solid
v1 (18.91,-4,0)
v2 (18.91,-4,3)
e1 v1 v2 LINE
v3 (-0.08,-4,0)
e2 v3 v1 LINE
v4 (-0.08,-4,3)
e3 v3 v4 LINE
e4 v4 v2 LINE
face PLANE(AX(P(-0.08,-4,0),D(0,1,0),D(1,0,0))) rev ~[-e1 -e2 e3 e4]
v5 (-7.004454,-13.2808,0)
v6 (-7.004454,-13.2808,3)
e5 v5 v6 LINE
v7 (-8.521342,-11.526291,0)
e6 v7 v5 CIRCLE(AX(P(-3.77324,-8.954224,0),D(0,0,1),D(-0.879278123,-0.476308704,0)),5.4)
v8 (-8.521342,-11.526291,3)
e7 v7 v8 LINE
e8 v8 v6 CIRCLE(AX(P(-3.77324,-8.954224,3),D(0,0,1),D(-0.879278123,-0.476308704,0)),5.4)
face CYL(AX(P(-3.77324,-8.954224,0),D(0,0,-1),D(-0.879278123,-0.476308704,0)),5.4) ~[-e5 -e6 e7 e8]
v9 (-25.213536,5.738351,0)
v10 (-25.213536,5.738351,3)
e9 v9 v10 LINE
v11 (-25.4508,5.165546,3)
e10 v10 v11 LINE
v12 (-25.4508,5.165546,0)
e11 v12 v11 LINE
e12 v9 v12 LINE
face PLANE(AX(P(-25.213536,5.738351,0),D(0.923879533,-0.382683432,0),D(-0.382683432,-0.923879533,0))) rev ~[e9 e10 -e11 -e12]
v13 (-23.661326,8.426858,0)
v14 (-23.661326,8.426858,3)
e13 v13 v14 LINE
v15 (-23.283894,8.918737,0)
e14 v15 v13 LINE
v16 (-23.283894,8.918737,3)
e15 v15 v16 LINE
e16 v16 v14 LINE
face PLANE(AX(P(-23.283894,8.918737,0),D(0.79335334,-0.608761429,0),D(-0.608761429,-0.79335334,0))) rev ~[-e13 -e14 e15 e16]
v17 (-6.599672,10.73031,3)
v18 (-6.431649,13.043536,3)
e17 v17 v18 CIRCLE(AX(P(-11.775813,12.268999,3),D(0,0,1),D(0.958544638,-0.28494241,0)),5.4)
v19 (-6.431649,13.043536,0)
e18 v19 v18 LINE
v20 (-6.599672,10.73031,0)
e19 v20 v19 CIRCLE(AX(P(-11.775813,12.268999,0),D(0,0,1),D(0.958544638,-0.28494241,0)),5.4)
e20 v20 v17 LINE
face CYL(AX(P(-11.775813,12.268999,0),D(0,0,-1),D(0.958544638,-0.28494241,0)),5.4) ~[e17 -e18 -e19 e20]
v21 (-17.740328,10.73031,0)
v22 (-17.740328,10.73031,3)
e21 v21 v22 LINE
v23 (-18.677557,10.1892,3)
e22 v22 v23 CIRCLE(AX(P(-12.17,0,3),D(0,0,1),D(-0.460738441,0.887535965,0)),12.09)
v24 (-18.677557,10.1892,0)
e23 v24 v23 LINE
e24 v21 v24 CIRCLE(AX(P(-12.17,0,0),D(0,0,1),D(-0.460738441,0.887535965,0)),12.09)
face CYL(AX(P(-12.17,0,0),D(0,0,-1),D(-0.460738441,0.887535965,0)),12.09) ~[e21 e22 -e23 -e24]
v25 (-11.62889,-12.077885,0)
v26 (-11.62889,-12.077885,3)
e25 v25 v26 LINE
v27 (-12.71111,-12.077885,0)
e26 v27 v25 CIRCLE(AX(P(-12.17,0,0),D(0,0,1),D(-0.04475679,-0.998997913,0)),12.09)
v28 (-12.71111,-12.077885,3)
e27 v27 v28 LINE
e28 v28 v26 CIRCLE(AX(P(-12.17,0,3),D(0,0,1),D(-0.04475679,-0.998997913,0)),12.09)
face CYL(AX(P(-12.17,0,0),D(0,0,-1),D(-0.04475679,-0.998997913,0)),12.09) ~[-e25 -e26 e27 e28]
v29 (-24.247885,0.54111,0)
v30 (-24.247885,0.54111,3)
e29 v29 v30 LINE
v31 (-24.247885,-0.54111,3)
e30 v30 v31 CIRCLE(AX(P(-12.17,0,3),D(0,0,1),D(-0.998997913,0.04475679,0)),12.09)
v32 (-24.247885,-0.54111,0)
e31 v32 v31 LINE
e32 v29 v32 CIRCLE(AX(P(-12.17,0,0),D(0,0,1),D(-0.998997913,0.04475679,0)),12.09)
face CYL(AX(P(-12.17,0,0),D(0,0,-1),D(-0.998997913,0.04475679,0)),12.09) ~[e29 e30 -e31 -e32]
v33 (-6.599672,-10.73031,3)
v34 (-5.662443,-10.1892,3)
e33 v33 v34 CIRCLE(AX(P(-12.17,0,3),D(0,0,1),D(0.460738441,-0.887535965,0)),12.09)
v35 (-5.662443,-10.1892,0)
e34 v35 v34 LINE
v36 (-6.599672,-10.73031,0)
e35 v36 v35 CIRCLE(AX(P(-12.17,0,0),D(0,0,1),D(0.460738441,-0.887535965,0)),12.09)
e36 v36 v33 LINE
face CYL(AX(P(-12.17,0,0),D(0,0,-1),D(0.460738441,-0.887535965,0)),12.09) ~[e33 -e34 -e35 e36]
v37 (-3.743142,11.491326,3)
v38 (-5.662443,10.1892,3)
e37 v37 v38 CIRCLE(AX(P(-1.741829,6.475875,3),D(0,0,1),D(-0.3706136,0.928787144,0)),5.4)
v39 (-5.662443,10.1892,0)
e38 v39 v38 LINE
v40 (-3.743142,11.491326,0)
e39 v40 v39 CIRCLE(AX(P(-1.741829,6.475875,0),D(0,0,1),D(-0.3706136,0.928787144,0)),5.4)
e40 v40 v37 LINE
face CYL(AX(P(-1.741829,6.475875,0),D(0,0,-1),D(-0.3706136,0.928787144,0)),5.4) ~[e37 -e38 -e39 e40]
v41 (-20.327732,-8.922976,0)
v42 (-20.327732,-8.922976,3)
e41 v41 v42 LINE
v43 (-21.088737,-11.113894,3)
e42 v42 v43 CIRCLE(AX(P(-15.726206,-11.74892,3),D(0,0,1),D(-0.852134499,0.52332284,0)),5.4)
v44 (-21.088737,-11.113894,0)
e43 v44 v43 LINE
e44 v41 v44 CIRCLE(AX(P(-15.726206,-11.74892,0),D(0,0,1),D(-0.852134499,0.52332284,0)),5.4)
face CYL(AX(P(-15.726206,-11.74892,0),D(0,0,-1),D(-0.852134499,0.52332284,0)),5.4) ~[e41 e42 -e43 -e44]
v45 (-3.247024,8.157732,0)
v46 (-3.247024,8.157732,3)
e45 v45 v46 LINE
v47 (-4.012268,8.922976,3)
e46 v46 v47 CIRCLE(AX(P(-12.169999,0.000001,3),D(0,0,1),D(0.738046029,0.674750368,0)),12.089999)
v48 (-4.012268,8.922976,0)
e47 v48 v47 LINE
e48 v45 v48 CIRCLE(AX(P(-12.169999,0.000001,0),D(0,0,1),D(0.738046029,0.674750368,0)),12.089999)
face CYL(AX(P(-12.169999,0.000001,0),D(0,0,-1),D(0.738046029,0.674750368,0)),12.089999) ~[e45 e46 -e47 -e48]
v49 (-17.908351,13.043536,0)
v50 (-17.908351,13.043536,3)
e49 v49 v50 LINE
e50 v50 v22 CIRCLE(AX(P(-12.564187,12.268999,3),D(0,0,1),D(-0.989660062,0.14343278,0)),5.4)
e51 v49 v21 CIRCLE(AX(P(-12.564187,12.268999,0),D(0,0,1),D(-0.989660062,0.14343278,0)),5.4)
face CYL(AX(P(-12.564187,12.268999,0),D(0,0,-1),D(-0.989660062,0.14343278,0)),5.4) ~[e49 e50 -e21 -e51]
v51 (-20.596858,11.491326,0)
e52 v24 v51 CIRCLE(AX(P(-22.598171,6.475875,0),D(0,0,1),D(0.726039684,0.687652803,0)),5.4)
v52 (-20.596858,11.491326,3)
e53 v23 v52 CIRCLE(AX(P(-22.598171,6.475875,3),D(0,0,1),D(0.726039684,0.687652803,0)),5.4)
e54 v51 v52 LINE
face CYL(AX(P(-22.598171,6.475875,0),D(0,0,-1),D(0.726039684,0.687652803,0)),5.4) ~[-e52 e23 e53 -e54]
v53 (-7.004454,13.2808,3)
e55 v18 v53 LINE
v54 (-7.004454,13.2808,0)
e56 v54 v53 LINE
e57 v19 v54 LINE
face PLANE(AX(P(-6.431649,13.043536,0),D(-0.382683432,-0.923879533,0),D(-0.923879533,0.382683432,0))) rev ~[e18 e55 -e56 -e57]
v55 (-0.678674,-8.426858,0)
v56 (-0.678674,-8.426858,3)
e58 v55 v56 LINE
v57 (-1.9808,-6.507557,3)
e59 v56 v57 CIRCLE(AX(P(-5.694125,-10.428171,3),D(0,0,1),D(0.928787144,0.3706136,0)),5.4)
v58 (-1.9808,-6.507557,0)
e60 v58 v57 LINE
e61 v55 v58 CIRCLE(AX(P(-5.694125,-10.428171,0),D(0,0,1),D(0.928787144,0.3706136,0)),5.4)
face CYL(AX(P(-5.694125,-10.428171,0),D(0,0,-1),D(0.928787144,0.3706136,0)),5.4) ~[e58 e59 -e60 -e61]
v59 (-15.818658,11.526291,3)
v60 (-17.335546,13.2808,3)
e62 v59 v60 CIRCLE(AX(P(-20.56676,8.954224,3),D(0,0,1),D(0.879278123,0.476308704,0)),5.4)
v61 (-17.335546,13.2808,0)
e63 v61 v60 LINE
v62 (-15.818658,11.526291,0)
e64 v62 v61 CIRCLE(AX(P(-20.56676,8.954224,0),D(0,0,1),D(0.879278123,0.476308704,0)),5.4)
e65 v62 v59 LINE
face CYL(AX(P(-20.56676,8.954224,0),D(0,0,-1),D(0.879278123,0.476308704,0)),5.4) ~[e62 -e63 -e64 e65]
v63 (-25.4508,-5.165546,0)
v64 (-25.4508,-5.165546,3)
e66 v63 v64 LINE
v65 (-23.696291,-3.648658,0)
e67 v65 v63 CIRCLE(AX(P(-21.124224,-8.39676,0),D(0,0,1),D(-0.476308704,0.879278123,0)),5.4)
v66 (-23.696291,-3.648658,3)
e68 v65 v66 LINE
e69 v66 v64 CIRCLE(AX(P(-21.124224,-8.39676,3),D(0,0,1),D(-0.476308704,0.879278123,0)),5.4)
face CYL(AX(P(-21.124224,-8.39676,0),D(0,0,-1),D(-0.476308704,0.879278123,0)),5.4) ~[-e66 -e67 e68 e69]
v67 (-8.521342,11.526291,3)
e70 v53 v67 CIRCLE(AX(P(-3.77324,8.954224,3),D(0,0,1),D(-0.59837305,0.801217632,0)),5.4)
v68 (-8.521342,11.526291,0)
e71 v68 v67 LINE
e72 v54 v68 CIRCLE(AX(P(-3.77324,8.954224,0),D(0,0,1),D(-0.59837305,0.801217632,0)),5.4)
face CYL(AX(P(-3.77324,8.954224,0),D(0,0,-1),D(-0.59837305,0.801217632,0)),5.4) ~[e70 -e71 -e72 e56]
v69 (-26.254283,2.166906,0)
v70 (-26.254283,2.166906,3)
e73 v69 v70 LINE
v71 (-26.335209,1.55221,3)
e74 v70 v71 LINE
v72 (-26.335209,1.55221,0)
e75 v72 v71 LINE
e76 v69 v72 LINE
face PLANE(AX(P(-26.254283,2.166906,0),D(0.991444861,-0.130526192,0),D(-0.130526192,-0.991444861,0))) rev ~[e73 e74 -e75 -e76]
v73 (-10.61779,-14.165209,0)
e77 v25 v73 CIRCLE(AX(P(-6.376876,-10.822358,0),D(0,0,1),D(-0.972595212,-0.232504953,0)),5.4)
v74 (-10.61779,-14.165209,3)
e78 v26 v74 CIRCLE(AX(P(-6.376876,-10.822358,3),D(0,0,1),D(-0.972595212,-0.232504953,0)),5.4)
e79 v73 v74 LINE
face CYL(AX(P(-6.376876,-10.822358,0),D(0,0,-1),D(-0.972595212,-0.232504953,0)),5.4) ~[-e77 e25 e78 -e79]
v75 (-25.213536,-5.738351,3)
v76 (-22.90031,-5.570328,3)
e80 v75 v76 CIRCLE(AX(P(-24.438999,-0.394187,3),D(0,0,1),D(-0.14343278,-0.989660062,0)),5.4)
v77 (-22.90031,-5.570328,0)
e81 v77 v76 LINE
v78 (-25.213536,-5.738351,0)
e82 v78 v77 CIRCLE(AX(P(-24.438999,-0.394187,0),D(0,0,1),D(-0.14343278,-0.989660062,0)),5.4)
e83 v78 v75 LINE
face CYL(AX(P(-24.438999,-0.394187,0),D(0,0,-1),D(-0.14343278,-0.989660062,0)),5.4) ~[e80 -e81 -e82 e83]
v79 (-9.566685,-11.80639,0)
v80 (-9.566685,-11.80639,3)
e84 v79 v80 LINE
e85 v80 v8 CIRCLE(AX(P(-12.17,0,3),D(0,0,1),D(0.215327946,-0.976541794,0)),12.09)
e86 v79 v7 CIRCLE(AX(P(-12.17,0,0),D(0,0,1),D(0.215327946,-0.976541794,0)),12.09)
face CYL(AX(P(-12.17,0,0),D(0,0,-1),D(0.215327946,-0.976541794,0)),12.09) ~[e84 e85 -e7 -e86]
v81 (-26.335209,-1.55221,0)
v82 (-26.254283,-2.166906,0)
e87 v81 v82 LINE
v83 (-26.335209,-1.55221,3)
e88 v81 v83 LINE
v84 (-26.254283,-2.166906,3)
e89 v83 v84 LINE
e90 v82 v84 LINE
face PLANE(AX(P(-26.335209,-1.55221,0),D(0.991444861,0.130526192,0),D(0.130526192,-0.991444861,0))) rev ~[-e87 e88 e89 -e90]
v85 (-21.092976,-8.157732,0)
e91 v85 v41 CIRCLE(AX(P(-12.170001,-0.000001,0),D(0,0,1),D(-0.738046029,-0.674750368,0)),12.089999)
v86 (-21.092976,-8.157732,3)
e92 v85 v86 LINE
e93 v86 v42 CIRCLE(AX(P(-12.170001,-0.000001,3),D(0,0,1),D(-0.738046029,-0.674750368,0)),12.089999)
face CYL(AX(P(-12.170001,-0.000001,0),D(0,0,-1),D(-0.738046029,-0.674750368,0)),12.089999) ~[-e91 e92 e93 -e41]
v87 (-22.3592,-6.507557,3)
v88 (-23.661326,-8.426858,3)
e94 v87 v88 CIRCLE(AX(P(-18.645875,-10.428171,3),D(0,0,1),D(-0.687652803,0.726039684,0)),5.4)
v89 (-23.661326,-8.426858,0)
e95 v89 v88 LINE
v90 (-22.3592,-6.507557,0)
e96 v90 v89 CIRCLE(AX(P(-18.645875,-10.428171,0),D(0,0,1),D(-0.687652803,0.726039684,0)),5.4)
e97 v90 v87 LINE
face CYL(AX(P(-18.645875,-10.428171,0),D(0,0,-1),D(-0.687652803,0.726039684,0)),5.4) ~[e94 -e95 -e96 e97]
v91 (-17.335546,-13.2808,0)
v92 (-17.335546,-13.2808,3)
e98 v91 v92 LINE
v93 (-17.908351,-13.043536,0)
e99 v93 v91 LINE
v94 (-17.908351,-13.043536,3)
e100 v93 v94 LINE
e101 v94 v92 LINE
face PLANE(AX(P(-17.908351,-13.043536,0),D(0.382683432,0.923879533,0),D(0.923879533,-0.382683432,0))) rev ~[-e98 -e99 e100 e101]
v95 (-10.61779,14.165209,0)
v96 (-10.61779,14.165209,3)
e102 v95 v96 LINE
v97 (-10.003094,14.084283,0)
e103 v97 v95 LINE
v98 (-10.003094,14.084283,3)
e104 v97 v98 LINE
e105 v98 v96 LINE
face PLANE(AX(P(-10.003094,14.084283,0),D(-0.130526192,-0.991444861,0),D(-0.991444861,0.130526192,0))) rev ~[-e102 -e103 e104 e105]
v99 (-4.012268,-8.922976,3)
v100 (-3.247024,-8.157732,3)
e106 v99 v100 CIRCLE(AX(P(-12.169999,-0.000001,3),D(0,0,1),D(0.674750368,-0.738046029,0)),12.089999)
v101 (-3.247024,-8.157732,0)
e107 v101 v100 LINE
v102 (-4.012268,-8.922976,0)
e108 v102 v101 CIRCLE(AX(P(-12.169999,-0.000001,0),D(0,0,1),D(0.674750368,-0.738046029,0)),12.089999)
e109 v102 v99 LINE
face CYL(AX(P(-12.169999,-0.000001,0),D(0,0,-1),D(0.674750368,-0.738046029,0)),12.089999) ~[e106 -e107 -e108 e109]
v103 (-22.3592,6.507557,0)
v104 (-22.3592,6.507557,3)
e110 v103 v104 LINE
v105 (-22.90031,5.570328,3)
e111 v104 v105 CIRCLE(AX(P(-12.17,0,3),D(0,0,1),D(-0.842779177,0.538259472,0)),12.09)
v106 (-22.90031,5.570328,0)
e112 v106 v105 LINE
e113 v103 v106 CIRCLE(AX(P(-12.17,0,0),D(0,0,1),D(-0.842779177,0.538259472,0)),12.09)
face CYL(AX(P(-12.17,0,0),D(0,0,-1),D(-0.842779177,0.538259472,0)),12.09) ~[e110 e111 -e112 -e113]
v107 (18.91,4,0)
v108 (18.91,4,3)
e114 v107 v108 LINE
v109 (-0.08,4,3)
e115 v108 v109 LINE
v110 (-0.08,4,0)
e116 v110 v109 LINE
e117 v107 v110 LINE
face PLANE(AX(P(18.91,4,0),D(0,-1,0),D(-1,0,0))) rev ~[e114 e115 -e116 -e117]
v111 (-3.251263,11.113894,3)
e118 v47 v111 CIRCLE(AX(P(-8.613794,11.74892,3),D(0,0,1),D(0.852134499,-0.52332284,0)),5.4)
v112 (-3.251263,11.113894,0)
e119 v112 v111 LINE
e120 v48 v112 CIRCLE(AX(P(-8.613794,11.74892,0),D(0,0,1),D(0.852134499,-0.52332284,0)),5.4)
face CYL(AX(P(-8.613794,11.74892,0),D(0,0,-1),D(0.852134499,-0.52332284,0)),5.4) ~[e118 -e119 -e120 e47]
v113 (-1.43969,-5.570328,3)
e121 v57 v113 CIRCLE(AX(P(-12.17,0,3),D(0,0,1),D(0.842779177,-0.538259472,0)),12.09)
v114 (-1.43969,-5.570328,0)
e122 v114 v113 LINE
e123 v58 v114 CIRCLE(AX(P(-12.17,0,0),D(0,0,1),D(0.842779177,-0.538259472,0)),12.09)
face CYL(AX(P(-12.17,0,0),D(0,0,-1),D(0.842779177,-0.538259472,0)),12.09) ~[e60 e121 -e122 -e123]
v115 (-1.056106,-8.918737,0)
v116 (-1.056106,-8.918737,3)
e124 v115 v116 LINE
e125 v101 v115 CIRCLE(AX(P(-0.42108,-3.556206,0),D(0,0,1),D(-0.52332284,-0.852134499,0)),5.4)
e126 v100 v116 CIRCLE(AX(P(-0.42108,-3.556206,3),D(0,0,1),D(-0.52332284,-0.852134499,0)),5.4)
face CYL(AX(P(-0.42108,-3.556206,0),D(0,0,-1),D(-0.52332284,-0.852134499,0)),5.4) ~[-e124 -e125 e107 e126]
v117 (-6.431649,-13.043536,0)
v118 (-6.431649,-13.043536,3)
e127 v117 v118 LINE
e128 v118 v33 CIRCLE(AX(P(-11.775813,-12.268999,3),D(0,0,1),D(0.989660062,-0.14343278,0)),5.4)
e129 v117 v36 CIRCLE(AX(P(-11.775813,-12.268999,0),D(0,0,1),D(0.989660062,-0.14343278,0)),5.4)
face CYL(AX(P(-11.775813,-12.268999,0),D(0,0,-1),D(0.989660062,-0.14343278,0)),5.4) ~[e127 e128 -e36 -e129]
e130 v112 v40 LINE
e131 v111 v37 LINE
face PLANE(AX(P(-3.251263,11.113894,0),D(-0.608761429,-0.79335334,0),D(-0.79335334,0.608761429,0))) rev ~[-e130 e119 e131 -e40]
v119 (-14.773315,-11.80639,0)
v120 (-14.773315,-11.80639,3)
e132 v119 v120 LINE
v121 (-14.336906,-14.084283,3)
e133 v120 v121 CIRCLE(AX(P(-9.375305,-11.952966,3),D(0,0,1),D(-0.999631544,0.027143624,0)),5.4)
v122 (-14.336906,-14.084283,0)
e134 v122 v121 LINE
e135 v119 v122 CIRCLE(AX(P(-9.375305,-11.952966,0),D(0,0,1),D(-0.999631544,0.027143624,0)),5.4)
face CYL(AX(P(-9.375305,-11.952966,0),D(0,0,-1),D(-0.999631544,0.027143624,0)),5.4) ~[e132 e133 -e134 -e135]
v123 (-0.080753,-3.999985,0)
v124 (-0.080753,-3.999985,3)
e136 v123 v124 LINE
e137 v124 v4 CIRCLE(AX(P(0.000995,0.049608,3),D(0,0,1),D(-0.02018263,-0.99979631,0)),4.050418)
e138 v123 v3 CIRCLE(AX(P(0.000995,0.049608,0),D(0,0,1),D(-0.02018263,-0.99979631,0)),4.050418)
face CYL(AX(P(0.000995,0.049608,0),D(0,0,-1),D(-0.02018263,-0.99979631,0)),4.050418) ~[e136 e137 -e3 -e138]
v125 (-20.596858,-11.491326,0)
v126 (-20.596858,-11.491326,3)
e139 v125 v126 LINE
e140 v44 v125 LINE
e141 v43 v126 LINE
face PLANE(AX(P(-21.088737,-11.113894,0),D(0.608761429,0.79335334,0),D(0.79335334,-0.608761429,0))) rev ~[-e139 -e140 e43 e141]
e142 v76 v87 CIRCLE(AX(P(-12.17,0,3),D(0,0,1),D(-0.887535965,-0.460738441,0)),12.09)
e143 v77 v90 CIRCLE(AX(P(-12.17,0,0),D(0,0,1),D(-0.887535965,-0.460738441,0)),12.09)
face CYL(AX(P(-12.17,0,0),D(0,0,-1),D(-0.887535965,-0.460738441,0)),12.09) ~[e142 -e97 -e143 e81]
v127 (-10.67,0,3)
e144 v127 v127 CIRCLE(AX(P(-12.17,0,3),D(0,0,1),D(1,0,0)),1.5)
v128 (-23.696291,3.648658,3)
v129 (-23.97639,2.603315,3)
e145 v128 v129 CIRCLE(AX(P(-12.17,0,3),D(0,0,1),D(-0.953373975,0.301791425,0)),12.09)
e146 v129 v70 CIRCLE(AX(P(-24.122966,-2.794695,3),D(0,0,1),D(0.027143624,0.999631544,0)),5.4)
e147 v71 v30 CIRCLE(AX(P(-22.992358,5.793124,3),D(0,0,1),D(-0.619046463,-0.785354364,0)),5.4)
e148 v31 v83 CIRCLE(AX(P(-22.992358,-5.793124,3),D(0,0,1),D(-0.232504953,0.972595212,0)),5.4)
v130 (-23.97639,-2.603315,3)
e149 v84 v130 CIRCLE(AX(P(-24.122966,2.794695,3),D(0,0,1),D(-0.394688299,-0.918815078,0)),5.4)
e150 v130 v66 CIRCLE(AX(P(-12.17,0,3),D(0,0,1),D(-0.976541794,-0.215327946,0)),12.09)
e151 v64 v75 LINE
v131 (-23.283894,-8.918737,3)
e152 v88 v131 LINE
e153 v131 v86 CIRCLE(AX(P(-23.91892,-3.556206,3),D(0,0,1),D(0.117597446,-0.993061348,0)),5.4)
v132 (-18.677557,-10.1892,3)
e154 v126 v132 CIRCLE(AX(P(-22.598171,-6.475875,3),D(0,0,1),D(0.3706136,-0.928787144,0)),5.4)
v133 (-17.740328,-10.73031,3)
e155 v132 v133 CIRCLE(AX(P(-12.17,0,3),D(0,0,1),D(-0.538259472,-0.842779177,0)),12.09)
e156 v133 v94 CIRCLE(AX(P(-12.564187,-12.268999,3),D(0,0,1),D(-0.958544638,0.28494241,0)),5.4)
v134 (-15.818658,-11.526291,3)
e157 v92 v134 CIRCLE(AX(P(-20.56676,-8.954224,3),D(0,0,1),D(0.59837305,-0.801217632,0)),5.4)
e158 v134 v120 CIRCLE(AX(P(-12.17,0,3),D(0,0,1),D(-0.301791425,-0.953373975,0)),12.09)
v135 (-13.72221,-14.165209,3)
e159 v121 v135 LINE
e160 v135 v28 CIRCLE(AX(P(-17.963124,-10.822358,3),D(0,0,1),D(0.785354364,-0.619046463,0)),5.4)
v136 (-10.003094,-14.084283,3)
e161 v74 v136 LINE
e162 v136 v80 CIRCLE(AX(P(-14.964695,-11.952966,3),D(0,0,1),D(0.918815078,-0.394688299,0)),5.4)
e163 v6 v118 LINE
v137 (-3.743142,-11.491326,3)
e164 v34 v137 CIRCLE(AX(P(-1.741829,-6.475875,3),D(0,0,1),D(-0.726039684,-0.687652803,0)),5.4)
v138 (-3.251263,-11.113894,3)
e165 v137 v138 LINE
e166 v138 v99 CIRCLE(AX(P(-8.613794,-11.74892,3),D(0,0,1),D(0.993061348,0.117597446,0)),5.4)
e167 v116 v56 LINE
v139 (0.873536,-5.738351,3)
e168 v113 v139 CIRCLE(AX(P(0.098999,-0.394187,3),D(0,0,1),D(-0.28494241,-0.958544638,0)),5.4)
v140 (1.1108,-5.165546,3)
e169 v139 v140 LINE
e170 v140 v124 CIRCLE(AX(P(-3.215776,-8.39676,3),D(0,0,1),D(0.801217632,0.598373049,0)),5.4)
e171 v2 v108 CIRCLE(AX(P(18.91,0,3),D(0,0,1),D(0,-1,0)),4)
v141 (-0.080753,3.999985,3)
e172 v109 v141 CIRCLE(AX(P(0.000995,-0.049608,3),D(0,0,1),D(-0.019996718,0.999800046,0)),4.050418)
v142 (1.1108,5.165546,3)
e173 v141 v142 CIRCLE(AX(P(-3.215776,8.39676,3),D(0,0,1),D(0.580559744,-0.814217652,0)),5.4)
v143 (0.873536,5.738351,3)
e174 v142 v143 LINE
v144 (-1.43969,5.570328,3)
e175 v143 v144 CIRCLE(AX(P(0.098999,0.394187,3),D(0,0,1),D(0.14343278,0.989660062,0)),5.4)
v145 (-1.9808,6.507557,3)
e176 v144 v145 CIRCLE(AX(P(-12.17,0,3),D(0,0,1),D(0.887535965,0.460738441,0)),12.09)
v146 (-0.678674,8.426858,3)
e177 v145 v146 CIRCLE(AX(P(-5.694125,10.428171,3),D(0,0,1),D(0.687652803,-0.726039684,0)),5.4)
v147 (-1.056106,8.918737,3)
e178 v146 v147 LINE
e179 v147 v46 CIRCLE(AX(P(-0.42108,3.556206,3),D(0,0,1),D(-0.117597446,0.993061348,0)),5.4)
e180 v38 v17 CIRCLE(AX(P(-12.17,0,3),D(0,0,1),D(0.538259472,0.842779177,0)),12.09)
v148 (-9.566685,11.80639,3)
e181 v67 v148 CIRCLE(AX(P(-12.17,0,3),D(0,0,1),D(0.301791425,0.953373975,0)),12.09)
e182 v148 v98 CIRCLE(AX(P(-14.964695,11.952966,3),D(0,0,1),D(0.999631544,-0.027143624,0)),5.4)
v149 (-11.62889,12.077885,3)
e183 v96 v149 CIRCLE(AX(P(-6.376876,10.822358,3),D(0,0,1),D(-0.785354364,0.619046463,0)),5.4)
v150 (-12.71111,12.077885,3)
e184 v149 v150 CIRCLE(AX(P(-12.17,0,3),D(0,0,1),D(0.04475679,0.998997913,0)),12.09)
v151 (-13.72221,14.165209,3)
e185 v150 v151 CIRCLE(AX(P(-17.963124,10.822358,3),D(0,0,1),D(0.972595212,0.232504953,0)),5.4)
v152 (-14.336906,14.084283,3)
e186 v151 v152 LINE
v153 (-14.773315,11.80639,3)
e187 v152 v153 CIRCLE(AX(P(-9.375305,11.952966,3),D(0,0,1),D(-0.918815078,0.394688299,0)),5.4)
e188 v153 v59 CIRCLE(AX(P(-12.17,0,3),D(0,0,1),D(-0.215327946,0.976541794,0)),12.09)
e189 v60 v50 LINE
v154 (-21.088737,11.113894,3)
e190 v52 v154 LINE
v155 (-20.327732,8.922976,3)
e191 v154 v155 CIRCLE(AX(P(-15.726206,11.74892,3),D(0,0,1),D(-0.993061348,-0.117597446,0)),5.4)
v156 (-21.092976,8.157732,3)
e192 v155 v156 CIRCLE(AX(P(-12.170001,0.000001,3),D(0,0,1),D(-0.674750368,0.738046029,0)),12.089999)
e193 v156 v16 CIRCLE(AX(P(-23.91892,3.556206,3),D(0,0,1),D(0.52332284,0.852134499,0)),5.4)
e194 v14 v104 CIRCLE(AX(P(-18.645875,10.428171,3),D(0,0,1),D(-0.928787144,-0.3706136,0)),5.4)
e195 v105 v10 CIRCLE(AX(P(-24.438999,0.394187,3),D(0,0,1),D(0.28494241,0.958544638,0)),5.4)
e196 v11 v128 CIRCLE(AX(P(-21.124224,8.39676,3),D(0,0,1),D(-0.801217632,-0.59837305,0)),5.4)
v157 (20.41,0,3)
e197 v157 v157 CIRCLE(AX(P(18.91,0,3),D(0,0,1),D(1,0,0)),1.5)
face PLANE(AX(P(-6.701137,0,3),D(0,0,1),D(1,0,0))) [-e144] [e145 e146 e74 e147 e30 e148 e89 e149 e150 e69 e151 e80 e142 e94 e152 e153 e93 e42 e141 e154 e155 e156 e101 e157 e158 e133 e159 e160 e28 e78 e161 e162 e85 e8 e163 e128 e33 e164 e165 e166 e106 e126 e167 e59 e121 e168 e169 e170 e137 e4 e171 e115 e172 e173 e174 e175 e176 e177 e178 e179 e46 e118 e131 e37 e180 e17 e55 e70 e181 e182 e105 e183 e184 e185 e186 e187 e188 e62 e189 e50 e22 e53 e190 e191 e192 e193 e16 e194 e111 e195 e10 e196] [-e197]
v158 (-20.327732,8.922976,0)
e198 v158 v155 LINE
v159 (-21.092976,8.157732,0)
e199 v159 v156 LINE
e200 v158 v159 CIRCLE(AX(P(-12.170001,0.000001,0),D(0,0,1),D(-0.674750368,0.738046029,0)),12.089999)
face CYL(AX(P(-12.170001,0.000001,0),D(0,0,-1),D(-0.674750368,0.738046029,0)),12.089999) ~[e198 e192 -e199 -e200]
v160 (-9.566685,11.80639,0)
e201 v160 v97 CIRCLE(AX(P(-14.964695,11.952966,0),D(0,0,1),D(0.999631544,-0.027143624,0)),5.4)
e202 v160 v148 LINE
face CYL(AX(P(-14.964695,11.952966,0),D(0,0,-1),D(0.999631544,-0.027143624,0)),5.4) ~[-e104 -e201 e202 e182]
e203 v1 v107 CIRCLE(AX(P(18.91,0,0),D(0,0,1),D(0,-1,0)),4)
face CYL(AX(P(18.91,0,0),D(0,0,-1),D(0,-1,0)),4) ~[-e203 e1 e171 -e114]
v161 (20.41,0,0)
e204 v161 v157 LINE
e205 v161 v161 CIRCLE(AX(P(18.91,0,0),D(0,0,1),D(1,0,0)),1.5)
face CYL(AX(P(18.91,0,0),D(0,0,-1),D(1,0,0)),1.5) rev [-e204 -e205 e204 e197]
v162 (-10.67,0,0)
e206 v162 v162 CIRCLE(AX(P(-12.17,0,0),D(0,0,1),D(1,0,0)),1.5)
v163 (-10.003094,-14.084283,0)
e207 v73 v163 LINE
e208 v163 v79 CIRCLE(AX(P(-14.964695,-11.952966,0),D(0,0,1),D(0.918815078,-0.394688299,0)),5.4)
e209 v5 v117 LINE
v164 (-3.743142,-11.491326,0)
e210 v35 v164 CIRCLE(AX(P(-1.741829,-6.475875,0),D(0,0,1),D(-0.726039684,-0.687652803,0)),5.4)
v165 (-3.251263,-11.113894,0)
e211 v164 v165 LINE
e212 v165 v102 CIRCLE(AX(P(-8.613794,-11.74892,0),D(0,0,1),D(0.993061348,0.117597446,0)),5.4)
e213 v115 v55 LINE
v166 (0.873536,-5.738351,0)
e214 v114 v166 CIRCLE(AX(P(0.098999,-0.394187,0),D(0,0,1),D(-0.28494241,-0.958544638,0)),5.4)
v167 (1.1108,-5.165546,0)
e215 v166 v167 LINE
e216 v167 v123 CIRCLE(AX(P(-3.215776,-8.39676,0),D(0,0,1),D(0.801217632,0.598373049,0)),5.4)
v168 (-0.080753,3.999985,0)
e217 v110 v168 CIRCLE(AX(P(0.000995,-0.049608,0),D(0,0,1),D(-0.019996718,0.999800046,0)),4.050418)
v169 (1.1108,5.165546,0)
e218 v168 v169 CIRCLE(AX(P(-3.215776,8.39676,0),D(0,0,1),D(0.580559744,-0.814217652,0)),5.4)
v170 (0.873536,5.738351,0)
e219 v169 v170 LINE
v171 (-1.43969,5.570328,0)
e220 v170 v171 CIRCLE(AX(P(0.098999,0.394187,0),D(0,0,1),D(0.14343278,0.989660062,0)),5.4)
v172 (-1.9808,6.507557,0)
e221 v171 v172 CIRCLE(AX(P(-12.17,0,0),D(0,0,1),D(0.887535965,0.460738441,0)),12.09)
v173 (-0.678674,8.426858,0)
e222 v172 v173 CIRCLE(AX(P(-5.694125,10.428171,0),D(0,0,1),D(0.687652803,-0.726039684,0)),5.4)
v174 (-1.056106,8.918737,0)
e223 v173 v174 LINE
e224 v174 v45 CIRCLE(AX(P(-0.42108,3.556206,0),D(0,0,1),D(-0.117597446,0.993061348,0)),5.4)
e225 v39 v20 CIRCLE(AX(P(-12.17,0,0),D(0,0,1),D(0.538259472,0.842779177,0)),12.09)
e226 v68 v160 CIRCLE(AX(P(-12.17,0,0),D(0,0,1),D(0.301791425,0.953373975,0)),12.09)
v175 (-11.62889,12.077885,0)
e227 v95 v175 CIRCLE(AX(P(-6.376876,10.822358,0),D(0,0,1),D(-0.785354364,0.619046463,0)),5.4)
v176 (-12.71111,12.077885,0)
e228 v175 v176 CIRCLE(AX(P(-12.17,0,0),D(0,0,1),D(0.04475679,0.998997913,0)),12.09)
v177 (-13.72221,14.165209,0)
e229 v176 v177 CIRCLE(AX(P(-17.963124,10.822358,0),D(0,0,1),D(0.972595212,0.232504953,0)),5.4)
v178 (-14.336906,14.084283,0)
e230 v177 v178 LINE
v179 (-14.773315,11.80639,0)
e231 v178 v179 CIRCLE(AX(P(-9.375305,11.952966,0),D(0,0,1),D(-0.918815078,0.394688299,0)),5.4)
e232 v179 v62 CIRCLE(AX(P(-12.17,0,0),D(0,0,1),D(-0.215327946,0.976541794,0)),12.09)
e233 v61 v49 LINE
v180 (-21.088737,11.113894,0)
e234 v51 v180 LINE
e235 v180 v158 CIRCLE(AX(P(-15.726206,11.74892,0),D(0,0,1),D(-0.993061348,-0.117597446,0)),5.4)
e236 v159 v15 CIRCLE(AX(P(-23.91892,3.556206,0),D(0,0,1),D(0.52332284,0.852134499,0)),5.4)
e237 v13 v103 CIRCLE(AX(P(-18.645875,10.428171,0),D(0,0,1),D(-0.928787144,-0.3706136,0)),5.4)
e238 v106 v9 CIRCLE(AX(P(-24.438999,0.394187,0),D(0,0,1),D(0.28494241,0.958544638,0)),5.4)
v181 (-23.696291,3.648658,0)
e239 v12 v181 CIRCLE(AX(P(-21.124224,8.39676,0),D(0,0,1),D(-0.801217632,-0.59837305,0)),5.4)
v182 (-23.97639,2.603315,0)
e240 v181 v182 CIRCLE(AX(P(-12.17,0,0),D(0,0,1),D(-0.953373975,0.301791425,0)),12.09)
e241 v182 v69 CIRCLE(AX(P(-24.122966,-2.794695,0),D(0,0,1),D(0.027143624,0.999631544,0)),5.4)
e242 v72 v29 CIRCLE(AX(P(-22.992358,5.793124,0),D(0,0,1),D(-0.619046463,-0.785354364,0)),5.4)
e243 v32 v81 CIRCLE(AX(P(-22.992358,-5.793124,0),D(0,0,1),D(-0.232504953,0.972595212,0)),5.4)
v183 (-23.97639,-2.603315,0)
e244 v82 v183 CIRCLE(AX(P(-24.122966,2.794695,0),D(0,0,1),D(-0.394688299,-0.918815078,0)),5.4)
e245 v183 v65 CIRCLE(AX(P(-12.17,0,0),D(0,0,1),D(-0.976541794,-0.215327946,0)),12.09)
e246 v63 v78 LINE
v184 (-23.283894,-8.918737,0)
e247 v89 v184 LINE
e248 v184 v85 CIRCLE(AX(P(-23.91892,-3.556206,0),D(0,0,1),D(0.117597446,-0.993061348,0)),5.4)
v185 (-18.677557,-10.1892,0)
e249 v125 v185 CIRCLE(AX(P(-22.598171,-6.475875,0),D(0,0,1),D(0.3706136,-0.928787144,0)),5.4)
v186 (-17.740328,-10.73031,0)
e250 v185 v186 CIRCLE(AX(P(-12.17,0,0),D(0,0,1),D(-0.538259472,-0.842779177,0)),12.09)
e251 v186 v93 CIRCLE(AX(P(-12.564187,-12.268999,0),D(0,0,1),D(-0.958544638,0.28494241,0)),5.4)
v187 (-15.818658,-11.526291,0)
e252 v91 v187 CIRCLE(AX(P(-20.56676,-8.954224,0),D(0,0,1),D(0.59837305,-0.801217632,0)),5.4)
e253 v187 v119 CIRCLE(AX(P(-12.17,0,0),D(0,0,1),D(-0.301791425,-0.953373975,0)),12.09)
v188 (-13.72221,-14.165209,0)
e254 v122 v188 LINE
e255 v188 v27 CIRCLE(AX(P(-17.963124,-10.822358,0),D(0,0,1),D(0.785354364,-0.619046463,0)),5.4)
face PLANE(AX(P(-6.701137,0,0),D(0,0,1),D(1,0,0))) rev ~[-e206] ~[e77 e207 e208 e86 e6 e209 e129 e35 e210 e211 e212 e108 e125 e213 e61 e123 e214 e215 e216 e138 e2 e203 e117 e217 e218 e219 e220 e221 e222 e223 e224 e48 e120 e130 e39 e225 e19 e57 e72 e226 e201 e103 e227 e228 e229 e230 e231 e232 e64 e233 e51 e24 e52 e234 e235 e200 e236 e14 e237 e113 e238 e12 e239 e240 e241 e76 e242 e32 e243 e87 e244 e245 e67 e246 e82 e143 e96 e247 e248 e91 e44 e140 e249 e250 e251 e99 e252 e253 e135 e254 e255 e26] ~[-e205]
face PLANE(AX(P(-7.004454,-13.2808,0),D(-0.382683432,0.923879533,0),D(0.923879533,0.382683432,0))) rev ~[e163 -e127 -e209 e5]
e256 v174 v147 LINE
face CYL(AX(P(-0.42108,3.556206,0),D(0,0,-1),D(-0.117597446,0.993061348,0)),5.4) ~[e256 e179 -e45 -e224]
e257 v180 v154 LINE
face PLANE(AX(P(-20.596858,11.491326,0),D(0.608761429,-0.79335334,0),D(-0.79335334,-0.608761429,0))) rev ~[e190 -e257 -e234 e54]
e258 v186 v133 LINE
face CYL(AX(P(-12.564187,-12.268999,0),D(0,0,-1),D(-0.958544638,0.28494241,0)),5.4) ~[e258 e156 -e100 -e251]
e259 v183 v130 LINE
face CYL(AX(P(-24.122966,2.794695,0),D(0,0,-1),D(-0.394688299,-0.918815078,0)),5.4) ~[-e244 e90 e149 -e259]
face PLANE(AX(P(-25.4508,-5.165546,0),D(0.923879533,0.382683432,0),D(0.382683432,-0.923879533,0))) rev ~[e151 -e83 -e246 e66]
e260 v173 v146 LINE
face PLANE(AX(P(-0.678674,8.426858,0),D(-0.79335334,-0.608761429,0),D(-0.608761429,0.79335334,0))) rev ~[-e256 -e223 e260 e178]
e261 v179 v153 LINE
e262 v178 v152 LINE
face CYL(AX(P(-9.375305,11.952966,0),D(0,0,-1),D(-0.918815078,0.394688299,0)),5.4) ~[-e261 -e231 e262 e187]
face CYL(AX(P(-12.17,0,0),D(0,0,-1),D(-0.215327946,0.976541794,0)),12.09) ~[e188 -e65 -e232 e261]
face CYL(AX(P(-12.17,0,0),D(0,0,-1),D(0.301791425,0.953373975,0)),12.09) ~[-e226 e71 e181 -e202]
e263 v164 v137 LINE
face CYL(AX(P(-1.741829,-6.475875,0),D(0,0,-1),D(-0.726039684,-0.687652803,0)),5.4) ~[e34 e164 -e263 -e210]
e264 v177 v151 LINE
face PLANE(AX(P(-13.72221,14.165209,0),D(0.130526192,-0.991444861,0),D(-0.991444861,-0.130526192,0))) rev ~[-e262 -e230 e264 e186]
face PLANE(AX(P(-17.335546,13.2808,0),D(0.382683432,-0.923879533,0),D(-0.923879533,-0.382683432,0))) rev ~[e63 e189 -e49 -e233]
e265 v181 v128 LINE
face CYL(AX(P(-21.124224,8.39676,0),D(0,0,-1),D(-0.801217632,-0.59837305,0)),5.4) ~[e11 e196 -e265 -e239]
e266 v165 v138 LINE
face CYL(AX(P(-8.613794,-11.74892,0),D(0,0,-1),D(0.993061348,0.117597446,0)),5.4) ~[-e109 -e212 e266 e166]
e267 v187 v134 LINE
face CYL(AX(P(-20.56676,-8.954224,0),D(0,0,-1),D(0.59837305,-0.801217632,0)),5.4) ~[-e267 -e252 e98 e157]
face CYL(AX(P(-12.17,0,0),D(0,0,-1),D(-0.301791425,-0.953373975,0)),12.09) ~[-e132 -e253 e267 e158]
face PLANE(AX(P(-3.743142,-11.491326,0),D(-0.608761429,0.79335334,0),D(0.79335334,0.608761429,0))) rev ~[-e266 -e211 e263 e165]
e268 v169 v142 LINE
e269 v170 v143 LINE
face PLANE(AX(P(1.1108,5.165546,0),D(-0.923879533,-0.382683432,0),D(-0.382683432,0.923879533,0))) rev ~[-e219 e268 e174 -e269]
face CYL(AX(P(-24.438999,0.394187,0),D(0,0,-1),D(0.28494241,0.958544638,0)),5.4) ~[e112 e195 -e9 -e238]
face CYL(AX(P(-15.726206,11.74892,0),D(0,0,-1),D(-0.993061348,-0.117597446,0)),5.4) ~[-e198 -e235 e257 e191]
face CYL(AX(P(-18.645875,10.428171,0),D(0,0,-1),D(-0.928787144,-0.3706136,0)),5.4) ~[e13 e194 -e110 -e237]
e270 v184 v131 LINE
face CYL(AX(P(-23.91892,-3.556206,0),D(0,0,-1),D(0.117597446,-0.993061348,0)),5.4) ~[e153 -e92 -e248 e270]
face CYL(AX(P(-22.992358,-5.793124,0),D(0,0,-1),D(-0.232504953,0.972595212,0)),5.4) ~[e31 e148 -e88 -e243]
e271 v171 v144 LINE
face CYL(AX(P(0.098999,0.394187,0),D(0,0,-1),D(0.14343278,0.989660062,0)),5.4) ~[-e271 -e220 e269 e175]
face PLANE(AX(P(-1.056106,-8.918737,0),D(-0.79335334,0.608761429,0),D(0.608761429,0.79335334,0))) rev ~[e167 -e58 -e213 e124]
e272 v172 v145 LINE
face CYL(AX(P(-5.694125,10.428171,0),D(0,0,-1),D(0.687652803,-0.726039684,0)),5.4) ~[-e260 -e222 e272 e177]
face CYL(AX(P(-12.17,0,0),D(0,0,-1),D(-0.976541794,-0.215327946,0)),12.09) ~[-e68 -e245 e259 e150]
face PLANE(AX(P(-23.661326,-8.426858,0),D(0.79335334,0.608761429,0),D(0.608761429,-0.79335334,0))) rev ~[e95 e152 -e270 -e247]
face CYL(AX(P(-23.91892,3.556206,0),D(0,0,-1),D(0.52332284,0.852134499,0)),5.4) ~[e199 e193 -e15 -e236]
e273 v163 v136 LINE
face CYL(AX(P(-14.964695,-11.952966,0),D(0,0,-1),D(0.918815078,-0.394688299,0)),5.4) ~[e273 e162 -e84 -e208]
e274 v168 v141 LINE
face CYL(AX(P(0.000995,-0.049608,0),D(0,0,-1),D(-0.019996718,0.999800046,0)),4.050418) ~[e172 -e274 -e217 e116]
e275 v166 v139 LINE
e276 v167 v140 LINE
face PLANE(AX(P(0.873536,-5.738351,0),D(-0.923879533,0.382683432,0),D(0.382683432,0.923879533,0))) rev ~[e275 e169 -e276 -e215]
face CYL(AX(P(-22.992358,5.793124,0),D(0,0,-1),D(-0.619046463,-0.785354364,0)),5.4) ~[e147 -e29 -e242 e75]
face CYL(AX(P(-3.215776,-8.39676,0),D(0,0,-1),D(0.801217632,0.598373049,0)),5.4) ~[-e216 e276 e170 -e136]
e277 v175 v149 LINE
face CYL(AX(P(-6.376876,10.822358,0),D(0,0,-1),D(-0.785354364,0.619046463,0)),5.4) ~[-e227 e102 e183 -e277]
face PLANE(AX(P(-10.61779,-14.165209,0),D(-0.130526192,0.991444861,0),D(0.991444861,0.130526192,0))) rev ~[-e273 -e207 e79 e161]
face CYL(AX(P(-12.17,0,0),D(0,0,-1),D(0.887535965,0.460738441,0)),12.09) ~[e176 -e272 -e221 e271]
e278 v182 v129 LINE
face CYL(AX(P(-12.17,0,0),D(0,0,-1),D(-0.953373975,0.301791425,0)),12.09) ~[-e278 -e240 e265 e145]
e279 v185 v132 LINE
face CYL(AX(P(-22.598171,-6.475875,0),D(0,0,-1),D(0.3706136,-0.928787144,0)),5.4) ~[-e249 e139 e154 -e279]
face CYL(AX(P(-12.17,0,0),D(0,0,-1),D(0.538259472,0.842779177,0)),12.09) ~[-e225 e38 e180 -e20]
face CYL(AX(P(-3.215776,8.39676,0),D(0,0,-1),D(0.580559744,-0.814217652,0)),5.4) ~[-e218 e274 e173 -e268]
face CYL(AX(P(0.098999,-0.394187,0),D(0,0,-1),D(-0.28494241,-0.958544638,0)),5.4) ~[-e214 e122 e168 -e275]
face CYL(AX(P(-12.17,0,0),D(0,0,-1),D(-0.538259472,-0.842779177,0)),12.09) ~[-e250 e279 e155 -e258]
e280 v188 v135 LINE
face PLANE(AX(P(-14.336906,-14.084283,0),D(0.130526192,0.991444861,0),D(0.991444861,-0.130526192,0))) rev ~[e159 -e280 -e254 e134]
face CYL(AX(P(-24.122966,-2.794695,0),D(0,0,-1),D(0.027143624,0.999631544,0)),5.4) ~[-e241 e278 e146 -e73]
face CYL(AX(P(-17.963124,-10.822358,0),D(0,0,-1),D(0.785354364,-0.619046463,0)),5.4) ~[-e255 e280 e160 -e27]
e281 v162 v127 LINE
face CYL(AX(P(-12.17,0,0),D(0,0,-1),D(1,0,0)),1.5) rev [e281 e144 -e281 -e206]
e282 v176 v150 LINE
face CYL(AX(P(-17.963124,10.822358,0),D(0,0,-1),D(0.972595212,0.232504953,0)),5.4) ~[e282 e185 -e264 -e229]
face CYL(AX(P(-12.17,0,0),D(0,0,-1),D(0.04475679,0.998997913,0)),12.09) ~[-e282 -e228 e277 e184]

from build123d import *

# Parameters (mm, degrees)
SKETCH1_R           = 1.5
BOSS_EXTRUDE1_DEPTH = 3


with BuildPart() as part:
    # Sketch1 → Boss-Extrude1 (new body)
    with BuildSketch(Plane.XY):
        with BuildLine():
            ThreePointArc((-0.08, 4), (-0.080376511, 3.999992452), (-0.080753021, 3.999984869))
            ThreePointArc((-0.080753021, 3.999984869), (0.560266414, 4.536513248), (1.110799577, 5.165545722))
            Line((1.110799577, 5.165545722), (0.873535849, 5.738351032))
            ThreePointArc((0.873535849, 5.738351032), (-0.292204471, 5.779997685), (-1.43969018, 5.570327744))
            ThreePointArc((-1.43969018, 5.570327744), (-1.699752868, 6.045), (-1.980799756, 6.507557022))
            ThreePointArc((-1.980799756, 6.507557022), (-1.225477407, 7.396473826), (-0.678674306, 8.426857884))
            Line((-0.678674306, 8.426857884), (-1.056106392, 8.918736955))
            ThreePointArc((-1.056106392, 8.918736955), (-2.192904021, 8.657248736), (-3.247023529, 8.15773197))
            ThreePointArc((-3.247023529, 8.15773197), (-3.621079015, 8.548920985), (-4.01226803, 8.922976471))
            ThreePointArc((-4.01226803, 8.922976471), (-3.512751264, 9.977095979), (-3.251263045, 11.113893608))
            Line((-3.251263045, 11.113893608), (-3.743142116, 11.491325694))
            ThreePointArc((-3.743142116, 11.491325694), (-4.773526174, 10.944522593), (-5.662442978, 10.189200244))
            ThreePointArc((-5.662442978, 10.189200244), (-6.125, 10.470247132), (-6.599672256, 10.73030982))
            ThreePointArc((-6.599672256, 10.73030982), (-6.390002315, 11.877795529), (-6.431648968, 13.043535849))
            Line((-6.431648968, 13.043535849), (-7.004454278, 13.280799577))
            ThreePointArc((-7.004454278, 13.280799577), (-7.858205794, 12.485945322), (-8.521341684, 11.526291359))
            ThreePointArc((-8.521341684, 11.526291359), (-9.040877745, 11.67804324), (-9.566685112, 11.806390286))
            ThreePointArc((-9.566685112, 11.806390286), (-9.661150657, 12.969042942), (-10.003094031, 14.084282677))
            Line((-10.003094031, 14.084282677), (-10.617789845, 14.165208916))
            ThreePointArc((-10.617789845, 14.165208916), (-11.236727065, 13.176471511), (-11.628890424, 12.077884766))
            ThreePointArc((-11.628890424, 12.077884766), (-12.17, 12.09), (-12.711109576, 12.077884766))
            ThreePointArc((-12.711109576, 12.077884766), (-13.103272935, 13.176471511), (-13.722210155, 14.165208916))
            Line((-13.722210155, 14.165208916), (-14.336905969, 14.084282677))
            ThreePointArc((-14.336905969, 14.084282677), (-14.678849343, 12.969042942), (-14.773314888, 11.806390286))
            ThreePointArc((-14.773314888, 11.806390286), (-15.299122255, 11.67804324), (-15.818658316, 11.526291359))
            ThreePointArc((-15.818658316, 11.526291359), (-16.481794206, 12.485945322), (-17.335545722, 13.280799577))
            Line((-17.335545722, 13.280799577), (-17.908351032, 13.043535849))
            ThreePointArc((-17.908351032, 13.043535849), (-17.949997685, 11.877795529), (-17.740327744, 10.73030982))
            ThreePointArc((-17.740327744, 10.73030982), (-18.215, 10.470247132), (-18.677557022, 10.189200244))
            ThreePointArc((-18.677557022, 10.189200244), (-19.566473826, 10.944522593), (-20.596857884, 11.491325694))
            Line((-20.596857884, 11.491325694), (-21.088736955, 11.113893608))
            ThreePointArc((-21.088736955, 11.113893608), (-20.827248736, 9.977095979), (-20.32773197, 8.922976471))
            ThreePointArc((-20.32773197, 8.922976471), (-20.718920985, 8.548920985), (-21.092976471, 8.15773197))
            ThreePointArc((-21.092976471, 8.15773197), (-22.147095979, 8.657248736), (-23.283893608, 8.918736955))
            Line((-23.283893608, 8.918736955), (-23.661325694, 8.426857884))
            ThreePointArc((-23.661325694, 8.426857884), (-23.114522593, 7.396473826), (-22.359200244, 6.507557022))
            ThreePointArc((-22.359200244, 6.507557022), (-22.640247132, 6.045), (-22.90030982, 5.570327744))
            ThreePointArc((-22.90030982, 5.570327744), (-24.047795529, 5.779997685), (-25.213535849, 5.738351032))
            Line((-25.213535849, 5.738351032), (-25.450799577, 5.165545722))
            ThreePointArc((-25.450799577, 5.165545722), (-24.655945322, 4.311794206), (-23.696291359, 3.648658316))
            ThreePointArc((-23.696291359, 3.648658316), (-23.84804324, 3.129122255), (-23.976390286, 2.603314888))
            ThreePointArc((-23.976390286, 2.603314888), (-25.139042942, 2.508849343), (-26.254282677, 2.166905969))
            Line((-26.254282677, 2.166905969), (-26.335208916, 1.552210155))
            ThreePointArc((-26.335208916, 1.552210155), (-25.346471511, 0.933272935), (-24.247884766, 0.541109576))
            ThreePointArc((-24.247884766, 0.541109576), (-24.26, 0), (-24.247884766, -0.541109576))
            ThreePointArc((-24.247884766, -0.541109576), (-25.346471511, -0.933272935), (-26.335208916, -1.552210155))
            Line((-26.335208916, -1.552210155), (-26.254282677, -2.166905969))
            ThreePointArc((-26.254282677, -2.166905969), (-25.139042942, -2.508849343), (-23.976390286, -2.603314888))
            ThreePointArc((-23.976390286, -2.603314888), (-23.84804324, -3.129122255), (-23.696291359, -3.648658316))
            ThreePointArc((-23.696291359, -3.648658316), (-24.655945322, -4.311794206), (-25.450799577, -5.165545722))
            Line((-25.450799577, -5.165545722), (-25.213535849, -5.738351032))
            ThreePointArc((-25.213535849, -5.738351032), (-24.047795529, -5.779997685), (-22.90030982, -5.570327744))
            ThreePointArc((-22.90030982, -5.570327744), (-22.640247132, -6.045), (-22.359200244, -6.507557022))
            ThreePointArc((-22.359200244, -6.507557022), (-23.114522593, -7.396473826), (-23.661325694, -8.426857884))
            Line((-23.661325694, -8.426857884), (-23.283893608, -8.918736955))
            ThreePointArc((-23.283893608, -8.918736955), (-22.147095979, -8.657248736), (-21.092976471, -8.15773197))
            ThreePointArc((-21.092976471, -8.15773197), (-20.718920985, -8.548920985), (-20.32773197, -8.922976471))
            ThreePointArc((-20.32773197, -8.922976471), (-20.827248736, -9.977095979), (-21.088736955, -11.113893608))
            Line((-21.088736955, -11.113893608), (-20.596857884, -11.491325694))
            ThreePointArc((-20.596857884, -11.491325694), (-19.566473826, -10.944522593), (-18.677557022, -10.189200244))
            ThreePointArc((-18.677557022, -10.189200244), (-18.215, -10.470247132), (-17.740327744, -10.73030982))
            ThreePointArc((-17.740327744, -10.73030982), (-17.949997685, -11.877795529), (-17.908351032, -13.043535849))
            Line((-17.908351032, -13.043535849), (-17.335545722, -13.280799577))
            ThreePointArc((-17.335545722, -13.280799577), (-16.481794206, -12.485945322), (-15.818658316, -11.526291359))
            ThreePointArc((-15.818658316, -11.526291359), (-15.299122255, -11.67804324), (-14.773314888, -11.806390286))
            ThreePointArc((-14.773314888, -11.806390286), (-14.678849343, -12.969042942), (-14.336905969, -14.084282677))
            Line((-14.336905969, -14.084282677), (-13.722210155, -14.165208916))
            ThreePointArc((-13.722210155, -14.165208916), (-13.103272935, -13.176471511), (-12.711109576, -12.077884766))
            ThreePointArc((-12.711109576, -12.077884766), (-12.17, -12.09), (-11.628890424, -12.077884766))
            ThreePointArc((-11.628890424, -12.077884766), (-11.236727065, -13.176471511), (-10.617789845, -14.165208916))
            Line((-10.617789845, -14.165208916), (-10.003094031, -14.084282677))
            ThreePointArc((-10.003094031, -14.084282677), (-9.661150657, -12.969042942), (-9.566685112, -11.806390286))
            ThreePointArc((-9.566685112, -11.806390286), (-9.040877745, -11.67804324), (-8.521341684, -11.526291359))
            ThreePointArc((-8.521341684, -11.526291359), (-7.858205794, -12.485945322), (-7.004454278, -13.280799577))
            Line((-7.004454278, -13.280799577), (-6.431648968, -13.043535849))
            ThreePointArc((-6.431648968, -13.043535849), (-6.390002315, -11.877795529), (-6.599672256, -10.73030982))
            ThreePointArc((-6.599672256, -10.73030982), (-6.125, -10.470247132), (-5.662442978, -10.189200244))
            ThreePointArc((-5.662442978, -10.189200244), (-4.773526174, -10.944522593), (-3.743142116, -11.491325694))
            Line((-3.743142116, -11.491325694), (-3.251263045, -11.113893608))
            ThreePointArc((-3.251263045, -11.113893608), (-3.512751264, -9.977095979), (-4.01226803, -8.922976471))
            ThreePointArc((-4.01226803, -8.922976471), (-3.621079015, -8.548920985), (-3.247023529, -8.15773197))
            ThreePointArc((-3.247023529, -8.15773197), (-2.192904021, -8.657248736), (-1.056106392, -8.918736955))
            Line((-1.056106392, -8.918736955), (-0.678674306, -8.426857884))
            ThreePointArc((-0.678674306, -8.426857884), (-1.225477407, -7.396473826), (-1.980799756, -6.507557022))
            ThreePointArc((-1.980799756, -6.507557022), (-1.699752868, -6.045), (-1.43969018, -5.570327744))
            ThreePointArc((-1.43969018, -5.570327744), (-0.292204471, -5.779997685), (0.873535849, -5.738351032))
            Line((0.873535849, -5.738351032), (1.110799577, -5.165545722))
            ThreePointArc((1.110799577, -5.165545722), (0.560266414, -4.536513248), (-0.080753021, -3.999984869))
            ThreePointArc((-0.080753021, -3.999984869), (-0.080376511, -3.999992452), (-0.08, -4))
            Line((-0.08, -4), (18.91, -4))
            ThreePointArc((18.91, -4), (22.91, 0), (18.91, 4))
            Line((18.91, 4), (-0.08, 4))
        make_face()
        with Locations((18.91, 0)):
            Circle(SKETCH1_R, mode=Mode.SUBTRACT)
        with Locations((-12.17, 0)):
            Circle(SKETCH1_R, mode=Mode.SUBTRACT)
    extrude(amount=BOSS_EXTRUDE1_DEPTH)


solid = part.part
